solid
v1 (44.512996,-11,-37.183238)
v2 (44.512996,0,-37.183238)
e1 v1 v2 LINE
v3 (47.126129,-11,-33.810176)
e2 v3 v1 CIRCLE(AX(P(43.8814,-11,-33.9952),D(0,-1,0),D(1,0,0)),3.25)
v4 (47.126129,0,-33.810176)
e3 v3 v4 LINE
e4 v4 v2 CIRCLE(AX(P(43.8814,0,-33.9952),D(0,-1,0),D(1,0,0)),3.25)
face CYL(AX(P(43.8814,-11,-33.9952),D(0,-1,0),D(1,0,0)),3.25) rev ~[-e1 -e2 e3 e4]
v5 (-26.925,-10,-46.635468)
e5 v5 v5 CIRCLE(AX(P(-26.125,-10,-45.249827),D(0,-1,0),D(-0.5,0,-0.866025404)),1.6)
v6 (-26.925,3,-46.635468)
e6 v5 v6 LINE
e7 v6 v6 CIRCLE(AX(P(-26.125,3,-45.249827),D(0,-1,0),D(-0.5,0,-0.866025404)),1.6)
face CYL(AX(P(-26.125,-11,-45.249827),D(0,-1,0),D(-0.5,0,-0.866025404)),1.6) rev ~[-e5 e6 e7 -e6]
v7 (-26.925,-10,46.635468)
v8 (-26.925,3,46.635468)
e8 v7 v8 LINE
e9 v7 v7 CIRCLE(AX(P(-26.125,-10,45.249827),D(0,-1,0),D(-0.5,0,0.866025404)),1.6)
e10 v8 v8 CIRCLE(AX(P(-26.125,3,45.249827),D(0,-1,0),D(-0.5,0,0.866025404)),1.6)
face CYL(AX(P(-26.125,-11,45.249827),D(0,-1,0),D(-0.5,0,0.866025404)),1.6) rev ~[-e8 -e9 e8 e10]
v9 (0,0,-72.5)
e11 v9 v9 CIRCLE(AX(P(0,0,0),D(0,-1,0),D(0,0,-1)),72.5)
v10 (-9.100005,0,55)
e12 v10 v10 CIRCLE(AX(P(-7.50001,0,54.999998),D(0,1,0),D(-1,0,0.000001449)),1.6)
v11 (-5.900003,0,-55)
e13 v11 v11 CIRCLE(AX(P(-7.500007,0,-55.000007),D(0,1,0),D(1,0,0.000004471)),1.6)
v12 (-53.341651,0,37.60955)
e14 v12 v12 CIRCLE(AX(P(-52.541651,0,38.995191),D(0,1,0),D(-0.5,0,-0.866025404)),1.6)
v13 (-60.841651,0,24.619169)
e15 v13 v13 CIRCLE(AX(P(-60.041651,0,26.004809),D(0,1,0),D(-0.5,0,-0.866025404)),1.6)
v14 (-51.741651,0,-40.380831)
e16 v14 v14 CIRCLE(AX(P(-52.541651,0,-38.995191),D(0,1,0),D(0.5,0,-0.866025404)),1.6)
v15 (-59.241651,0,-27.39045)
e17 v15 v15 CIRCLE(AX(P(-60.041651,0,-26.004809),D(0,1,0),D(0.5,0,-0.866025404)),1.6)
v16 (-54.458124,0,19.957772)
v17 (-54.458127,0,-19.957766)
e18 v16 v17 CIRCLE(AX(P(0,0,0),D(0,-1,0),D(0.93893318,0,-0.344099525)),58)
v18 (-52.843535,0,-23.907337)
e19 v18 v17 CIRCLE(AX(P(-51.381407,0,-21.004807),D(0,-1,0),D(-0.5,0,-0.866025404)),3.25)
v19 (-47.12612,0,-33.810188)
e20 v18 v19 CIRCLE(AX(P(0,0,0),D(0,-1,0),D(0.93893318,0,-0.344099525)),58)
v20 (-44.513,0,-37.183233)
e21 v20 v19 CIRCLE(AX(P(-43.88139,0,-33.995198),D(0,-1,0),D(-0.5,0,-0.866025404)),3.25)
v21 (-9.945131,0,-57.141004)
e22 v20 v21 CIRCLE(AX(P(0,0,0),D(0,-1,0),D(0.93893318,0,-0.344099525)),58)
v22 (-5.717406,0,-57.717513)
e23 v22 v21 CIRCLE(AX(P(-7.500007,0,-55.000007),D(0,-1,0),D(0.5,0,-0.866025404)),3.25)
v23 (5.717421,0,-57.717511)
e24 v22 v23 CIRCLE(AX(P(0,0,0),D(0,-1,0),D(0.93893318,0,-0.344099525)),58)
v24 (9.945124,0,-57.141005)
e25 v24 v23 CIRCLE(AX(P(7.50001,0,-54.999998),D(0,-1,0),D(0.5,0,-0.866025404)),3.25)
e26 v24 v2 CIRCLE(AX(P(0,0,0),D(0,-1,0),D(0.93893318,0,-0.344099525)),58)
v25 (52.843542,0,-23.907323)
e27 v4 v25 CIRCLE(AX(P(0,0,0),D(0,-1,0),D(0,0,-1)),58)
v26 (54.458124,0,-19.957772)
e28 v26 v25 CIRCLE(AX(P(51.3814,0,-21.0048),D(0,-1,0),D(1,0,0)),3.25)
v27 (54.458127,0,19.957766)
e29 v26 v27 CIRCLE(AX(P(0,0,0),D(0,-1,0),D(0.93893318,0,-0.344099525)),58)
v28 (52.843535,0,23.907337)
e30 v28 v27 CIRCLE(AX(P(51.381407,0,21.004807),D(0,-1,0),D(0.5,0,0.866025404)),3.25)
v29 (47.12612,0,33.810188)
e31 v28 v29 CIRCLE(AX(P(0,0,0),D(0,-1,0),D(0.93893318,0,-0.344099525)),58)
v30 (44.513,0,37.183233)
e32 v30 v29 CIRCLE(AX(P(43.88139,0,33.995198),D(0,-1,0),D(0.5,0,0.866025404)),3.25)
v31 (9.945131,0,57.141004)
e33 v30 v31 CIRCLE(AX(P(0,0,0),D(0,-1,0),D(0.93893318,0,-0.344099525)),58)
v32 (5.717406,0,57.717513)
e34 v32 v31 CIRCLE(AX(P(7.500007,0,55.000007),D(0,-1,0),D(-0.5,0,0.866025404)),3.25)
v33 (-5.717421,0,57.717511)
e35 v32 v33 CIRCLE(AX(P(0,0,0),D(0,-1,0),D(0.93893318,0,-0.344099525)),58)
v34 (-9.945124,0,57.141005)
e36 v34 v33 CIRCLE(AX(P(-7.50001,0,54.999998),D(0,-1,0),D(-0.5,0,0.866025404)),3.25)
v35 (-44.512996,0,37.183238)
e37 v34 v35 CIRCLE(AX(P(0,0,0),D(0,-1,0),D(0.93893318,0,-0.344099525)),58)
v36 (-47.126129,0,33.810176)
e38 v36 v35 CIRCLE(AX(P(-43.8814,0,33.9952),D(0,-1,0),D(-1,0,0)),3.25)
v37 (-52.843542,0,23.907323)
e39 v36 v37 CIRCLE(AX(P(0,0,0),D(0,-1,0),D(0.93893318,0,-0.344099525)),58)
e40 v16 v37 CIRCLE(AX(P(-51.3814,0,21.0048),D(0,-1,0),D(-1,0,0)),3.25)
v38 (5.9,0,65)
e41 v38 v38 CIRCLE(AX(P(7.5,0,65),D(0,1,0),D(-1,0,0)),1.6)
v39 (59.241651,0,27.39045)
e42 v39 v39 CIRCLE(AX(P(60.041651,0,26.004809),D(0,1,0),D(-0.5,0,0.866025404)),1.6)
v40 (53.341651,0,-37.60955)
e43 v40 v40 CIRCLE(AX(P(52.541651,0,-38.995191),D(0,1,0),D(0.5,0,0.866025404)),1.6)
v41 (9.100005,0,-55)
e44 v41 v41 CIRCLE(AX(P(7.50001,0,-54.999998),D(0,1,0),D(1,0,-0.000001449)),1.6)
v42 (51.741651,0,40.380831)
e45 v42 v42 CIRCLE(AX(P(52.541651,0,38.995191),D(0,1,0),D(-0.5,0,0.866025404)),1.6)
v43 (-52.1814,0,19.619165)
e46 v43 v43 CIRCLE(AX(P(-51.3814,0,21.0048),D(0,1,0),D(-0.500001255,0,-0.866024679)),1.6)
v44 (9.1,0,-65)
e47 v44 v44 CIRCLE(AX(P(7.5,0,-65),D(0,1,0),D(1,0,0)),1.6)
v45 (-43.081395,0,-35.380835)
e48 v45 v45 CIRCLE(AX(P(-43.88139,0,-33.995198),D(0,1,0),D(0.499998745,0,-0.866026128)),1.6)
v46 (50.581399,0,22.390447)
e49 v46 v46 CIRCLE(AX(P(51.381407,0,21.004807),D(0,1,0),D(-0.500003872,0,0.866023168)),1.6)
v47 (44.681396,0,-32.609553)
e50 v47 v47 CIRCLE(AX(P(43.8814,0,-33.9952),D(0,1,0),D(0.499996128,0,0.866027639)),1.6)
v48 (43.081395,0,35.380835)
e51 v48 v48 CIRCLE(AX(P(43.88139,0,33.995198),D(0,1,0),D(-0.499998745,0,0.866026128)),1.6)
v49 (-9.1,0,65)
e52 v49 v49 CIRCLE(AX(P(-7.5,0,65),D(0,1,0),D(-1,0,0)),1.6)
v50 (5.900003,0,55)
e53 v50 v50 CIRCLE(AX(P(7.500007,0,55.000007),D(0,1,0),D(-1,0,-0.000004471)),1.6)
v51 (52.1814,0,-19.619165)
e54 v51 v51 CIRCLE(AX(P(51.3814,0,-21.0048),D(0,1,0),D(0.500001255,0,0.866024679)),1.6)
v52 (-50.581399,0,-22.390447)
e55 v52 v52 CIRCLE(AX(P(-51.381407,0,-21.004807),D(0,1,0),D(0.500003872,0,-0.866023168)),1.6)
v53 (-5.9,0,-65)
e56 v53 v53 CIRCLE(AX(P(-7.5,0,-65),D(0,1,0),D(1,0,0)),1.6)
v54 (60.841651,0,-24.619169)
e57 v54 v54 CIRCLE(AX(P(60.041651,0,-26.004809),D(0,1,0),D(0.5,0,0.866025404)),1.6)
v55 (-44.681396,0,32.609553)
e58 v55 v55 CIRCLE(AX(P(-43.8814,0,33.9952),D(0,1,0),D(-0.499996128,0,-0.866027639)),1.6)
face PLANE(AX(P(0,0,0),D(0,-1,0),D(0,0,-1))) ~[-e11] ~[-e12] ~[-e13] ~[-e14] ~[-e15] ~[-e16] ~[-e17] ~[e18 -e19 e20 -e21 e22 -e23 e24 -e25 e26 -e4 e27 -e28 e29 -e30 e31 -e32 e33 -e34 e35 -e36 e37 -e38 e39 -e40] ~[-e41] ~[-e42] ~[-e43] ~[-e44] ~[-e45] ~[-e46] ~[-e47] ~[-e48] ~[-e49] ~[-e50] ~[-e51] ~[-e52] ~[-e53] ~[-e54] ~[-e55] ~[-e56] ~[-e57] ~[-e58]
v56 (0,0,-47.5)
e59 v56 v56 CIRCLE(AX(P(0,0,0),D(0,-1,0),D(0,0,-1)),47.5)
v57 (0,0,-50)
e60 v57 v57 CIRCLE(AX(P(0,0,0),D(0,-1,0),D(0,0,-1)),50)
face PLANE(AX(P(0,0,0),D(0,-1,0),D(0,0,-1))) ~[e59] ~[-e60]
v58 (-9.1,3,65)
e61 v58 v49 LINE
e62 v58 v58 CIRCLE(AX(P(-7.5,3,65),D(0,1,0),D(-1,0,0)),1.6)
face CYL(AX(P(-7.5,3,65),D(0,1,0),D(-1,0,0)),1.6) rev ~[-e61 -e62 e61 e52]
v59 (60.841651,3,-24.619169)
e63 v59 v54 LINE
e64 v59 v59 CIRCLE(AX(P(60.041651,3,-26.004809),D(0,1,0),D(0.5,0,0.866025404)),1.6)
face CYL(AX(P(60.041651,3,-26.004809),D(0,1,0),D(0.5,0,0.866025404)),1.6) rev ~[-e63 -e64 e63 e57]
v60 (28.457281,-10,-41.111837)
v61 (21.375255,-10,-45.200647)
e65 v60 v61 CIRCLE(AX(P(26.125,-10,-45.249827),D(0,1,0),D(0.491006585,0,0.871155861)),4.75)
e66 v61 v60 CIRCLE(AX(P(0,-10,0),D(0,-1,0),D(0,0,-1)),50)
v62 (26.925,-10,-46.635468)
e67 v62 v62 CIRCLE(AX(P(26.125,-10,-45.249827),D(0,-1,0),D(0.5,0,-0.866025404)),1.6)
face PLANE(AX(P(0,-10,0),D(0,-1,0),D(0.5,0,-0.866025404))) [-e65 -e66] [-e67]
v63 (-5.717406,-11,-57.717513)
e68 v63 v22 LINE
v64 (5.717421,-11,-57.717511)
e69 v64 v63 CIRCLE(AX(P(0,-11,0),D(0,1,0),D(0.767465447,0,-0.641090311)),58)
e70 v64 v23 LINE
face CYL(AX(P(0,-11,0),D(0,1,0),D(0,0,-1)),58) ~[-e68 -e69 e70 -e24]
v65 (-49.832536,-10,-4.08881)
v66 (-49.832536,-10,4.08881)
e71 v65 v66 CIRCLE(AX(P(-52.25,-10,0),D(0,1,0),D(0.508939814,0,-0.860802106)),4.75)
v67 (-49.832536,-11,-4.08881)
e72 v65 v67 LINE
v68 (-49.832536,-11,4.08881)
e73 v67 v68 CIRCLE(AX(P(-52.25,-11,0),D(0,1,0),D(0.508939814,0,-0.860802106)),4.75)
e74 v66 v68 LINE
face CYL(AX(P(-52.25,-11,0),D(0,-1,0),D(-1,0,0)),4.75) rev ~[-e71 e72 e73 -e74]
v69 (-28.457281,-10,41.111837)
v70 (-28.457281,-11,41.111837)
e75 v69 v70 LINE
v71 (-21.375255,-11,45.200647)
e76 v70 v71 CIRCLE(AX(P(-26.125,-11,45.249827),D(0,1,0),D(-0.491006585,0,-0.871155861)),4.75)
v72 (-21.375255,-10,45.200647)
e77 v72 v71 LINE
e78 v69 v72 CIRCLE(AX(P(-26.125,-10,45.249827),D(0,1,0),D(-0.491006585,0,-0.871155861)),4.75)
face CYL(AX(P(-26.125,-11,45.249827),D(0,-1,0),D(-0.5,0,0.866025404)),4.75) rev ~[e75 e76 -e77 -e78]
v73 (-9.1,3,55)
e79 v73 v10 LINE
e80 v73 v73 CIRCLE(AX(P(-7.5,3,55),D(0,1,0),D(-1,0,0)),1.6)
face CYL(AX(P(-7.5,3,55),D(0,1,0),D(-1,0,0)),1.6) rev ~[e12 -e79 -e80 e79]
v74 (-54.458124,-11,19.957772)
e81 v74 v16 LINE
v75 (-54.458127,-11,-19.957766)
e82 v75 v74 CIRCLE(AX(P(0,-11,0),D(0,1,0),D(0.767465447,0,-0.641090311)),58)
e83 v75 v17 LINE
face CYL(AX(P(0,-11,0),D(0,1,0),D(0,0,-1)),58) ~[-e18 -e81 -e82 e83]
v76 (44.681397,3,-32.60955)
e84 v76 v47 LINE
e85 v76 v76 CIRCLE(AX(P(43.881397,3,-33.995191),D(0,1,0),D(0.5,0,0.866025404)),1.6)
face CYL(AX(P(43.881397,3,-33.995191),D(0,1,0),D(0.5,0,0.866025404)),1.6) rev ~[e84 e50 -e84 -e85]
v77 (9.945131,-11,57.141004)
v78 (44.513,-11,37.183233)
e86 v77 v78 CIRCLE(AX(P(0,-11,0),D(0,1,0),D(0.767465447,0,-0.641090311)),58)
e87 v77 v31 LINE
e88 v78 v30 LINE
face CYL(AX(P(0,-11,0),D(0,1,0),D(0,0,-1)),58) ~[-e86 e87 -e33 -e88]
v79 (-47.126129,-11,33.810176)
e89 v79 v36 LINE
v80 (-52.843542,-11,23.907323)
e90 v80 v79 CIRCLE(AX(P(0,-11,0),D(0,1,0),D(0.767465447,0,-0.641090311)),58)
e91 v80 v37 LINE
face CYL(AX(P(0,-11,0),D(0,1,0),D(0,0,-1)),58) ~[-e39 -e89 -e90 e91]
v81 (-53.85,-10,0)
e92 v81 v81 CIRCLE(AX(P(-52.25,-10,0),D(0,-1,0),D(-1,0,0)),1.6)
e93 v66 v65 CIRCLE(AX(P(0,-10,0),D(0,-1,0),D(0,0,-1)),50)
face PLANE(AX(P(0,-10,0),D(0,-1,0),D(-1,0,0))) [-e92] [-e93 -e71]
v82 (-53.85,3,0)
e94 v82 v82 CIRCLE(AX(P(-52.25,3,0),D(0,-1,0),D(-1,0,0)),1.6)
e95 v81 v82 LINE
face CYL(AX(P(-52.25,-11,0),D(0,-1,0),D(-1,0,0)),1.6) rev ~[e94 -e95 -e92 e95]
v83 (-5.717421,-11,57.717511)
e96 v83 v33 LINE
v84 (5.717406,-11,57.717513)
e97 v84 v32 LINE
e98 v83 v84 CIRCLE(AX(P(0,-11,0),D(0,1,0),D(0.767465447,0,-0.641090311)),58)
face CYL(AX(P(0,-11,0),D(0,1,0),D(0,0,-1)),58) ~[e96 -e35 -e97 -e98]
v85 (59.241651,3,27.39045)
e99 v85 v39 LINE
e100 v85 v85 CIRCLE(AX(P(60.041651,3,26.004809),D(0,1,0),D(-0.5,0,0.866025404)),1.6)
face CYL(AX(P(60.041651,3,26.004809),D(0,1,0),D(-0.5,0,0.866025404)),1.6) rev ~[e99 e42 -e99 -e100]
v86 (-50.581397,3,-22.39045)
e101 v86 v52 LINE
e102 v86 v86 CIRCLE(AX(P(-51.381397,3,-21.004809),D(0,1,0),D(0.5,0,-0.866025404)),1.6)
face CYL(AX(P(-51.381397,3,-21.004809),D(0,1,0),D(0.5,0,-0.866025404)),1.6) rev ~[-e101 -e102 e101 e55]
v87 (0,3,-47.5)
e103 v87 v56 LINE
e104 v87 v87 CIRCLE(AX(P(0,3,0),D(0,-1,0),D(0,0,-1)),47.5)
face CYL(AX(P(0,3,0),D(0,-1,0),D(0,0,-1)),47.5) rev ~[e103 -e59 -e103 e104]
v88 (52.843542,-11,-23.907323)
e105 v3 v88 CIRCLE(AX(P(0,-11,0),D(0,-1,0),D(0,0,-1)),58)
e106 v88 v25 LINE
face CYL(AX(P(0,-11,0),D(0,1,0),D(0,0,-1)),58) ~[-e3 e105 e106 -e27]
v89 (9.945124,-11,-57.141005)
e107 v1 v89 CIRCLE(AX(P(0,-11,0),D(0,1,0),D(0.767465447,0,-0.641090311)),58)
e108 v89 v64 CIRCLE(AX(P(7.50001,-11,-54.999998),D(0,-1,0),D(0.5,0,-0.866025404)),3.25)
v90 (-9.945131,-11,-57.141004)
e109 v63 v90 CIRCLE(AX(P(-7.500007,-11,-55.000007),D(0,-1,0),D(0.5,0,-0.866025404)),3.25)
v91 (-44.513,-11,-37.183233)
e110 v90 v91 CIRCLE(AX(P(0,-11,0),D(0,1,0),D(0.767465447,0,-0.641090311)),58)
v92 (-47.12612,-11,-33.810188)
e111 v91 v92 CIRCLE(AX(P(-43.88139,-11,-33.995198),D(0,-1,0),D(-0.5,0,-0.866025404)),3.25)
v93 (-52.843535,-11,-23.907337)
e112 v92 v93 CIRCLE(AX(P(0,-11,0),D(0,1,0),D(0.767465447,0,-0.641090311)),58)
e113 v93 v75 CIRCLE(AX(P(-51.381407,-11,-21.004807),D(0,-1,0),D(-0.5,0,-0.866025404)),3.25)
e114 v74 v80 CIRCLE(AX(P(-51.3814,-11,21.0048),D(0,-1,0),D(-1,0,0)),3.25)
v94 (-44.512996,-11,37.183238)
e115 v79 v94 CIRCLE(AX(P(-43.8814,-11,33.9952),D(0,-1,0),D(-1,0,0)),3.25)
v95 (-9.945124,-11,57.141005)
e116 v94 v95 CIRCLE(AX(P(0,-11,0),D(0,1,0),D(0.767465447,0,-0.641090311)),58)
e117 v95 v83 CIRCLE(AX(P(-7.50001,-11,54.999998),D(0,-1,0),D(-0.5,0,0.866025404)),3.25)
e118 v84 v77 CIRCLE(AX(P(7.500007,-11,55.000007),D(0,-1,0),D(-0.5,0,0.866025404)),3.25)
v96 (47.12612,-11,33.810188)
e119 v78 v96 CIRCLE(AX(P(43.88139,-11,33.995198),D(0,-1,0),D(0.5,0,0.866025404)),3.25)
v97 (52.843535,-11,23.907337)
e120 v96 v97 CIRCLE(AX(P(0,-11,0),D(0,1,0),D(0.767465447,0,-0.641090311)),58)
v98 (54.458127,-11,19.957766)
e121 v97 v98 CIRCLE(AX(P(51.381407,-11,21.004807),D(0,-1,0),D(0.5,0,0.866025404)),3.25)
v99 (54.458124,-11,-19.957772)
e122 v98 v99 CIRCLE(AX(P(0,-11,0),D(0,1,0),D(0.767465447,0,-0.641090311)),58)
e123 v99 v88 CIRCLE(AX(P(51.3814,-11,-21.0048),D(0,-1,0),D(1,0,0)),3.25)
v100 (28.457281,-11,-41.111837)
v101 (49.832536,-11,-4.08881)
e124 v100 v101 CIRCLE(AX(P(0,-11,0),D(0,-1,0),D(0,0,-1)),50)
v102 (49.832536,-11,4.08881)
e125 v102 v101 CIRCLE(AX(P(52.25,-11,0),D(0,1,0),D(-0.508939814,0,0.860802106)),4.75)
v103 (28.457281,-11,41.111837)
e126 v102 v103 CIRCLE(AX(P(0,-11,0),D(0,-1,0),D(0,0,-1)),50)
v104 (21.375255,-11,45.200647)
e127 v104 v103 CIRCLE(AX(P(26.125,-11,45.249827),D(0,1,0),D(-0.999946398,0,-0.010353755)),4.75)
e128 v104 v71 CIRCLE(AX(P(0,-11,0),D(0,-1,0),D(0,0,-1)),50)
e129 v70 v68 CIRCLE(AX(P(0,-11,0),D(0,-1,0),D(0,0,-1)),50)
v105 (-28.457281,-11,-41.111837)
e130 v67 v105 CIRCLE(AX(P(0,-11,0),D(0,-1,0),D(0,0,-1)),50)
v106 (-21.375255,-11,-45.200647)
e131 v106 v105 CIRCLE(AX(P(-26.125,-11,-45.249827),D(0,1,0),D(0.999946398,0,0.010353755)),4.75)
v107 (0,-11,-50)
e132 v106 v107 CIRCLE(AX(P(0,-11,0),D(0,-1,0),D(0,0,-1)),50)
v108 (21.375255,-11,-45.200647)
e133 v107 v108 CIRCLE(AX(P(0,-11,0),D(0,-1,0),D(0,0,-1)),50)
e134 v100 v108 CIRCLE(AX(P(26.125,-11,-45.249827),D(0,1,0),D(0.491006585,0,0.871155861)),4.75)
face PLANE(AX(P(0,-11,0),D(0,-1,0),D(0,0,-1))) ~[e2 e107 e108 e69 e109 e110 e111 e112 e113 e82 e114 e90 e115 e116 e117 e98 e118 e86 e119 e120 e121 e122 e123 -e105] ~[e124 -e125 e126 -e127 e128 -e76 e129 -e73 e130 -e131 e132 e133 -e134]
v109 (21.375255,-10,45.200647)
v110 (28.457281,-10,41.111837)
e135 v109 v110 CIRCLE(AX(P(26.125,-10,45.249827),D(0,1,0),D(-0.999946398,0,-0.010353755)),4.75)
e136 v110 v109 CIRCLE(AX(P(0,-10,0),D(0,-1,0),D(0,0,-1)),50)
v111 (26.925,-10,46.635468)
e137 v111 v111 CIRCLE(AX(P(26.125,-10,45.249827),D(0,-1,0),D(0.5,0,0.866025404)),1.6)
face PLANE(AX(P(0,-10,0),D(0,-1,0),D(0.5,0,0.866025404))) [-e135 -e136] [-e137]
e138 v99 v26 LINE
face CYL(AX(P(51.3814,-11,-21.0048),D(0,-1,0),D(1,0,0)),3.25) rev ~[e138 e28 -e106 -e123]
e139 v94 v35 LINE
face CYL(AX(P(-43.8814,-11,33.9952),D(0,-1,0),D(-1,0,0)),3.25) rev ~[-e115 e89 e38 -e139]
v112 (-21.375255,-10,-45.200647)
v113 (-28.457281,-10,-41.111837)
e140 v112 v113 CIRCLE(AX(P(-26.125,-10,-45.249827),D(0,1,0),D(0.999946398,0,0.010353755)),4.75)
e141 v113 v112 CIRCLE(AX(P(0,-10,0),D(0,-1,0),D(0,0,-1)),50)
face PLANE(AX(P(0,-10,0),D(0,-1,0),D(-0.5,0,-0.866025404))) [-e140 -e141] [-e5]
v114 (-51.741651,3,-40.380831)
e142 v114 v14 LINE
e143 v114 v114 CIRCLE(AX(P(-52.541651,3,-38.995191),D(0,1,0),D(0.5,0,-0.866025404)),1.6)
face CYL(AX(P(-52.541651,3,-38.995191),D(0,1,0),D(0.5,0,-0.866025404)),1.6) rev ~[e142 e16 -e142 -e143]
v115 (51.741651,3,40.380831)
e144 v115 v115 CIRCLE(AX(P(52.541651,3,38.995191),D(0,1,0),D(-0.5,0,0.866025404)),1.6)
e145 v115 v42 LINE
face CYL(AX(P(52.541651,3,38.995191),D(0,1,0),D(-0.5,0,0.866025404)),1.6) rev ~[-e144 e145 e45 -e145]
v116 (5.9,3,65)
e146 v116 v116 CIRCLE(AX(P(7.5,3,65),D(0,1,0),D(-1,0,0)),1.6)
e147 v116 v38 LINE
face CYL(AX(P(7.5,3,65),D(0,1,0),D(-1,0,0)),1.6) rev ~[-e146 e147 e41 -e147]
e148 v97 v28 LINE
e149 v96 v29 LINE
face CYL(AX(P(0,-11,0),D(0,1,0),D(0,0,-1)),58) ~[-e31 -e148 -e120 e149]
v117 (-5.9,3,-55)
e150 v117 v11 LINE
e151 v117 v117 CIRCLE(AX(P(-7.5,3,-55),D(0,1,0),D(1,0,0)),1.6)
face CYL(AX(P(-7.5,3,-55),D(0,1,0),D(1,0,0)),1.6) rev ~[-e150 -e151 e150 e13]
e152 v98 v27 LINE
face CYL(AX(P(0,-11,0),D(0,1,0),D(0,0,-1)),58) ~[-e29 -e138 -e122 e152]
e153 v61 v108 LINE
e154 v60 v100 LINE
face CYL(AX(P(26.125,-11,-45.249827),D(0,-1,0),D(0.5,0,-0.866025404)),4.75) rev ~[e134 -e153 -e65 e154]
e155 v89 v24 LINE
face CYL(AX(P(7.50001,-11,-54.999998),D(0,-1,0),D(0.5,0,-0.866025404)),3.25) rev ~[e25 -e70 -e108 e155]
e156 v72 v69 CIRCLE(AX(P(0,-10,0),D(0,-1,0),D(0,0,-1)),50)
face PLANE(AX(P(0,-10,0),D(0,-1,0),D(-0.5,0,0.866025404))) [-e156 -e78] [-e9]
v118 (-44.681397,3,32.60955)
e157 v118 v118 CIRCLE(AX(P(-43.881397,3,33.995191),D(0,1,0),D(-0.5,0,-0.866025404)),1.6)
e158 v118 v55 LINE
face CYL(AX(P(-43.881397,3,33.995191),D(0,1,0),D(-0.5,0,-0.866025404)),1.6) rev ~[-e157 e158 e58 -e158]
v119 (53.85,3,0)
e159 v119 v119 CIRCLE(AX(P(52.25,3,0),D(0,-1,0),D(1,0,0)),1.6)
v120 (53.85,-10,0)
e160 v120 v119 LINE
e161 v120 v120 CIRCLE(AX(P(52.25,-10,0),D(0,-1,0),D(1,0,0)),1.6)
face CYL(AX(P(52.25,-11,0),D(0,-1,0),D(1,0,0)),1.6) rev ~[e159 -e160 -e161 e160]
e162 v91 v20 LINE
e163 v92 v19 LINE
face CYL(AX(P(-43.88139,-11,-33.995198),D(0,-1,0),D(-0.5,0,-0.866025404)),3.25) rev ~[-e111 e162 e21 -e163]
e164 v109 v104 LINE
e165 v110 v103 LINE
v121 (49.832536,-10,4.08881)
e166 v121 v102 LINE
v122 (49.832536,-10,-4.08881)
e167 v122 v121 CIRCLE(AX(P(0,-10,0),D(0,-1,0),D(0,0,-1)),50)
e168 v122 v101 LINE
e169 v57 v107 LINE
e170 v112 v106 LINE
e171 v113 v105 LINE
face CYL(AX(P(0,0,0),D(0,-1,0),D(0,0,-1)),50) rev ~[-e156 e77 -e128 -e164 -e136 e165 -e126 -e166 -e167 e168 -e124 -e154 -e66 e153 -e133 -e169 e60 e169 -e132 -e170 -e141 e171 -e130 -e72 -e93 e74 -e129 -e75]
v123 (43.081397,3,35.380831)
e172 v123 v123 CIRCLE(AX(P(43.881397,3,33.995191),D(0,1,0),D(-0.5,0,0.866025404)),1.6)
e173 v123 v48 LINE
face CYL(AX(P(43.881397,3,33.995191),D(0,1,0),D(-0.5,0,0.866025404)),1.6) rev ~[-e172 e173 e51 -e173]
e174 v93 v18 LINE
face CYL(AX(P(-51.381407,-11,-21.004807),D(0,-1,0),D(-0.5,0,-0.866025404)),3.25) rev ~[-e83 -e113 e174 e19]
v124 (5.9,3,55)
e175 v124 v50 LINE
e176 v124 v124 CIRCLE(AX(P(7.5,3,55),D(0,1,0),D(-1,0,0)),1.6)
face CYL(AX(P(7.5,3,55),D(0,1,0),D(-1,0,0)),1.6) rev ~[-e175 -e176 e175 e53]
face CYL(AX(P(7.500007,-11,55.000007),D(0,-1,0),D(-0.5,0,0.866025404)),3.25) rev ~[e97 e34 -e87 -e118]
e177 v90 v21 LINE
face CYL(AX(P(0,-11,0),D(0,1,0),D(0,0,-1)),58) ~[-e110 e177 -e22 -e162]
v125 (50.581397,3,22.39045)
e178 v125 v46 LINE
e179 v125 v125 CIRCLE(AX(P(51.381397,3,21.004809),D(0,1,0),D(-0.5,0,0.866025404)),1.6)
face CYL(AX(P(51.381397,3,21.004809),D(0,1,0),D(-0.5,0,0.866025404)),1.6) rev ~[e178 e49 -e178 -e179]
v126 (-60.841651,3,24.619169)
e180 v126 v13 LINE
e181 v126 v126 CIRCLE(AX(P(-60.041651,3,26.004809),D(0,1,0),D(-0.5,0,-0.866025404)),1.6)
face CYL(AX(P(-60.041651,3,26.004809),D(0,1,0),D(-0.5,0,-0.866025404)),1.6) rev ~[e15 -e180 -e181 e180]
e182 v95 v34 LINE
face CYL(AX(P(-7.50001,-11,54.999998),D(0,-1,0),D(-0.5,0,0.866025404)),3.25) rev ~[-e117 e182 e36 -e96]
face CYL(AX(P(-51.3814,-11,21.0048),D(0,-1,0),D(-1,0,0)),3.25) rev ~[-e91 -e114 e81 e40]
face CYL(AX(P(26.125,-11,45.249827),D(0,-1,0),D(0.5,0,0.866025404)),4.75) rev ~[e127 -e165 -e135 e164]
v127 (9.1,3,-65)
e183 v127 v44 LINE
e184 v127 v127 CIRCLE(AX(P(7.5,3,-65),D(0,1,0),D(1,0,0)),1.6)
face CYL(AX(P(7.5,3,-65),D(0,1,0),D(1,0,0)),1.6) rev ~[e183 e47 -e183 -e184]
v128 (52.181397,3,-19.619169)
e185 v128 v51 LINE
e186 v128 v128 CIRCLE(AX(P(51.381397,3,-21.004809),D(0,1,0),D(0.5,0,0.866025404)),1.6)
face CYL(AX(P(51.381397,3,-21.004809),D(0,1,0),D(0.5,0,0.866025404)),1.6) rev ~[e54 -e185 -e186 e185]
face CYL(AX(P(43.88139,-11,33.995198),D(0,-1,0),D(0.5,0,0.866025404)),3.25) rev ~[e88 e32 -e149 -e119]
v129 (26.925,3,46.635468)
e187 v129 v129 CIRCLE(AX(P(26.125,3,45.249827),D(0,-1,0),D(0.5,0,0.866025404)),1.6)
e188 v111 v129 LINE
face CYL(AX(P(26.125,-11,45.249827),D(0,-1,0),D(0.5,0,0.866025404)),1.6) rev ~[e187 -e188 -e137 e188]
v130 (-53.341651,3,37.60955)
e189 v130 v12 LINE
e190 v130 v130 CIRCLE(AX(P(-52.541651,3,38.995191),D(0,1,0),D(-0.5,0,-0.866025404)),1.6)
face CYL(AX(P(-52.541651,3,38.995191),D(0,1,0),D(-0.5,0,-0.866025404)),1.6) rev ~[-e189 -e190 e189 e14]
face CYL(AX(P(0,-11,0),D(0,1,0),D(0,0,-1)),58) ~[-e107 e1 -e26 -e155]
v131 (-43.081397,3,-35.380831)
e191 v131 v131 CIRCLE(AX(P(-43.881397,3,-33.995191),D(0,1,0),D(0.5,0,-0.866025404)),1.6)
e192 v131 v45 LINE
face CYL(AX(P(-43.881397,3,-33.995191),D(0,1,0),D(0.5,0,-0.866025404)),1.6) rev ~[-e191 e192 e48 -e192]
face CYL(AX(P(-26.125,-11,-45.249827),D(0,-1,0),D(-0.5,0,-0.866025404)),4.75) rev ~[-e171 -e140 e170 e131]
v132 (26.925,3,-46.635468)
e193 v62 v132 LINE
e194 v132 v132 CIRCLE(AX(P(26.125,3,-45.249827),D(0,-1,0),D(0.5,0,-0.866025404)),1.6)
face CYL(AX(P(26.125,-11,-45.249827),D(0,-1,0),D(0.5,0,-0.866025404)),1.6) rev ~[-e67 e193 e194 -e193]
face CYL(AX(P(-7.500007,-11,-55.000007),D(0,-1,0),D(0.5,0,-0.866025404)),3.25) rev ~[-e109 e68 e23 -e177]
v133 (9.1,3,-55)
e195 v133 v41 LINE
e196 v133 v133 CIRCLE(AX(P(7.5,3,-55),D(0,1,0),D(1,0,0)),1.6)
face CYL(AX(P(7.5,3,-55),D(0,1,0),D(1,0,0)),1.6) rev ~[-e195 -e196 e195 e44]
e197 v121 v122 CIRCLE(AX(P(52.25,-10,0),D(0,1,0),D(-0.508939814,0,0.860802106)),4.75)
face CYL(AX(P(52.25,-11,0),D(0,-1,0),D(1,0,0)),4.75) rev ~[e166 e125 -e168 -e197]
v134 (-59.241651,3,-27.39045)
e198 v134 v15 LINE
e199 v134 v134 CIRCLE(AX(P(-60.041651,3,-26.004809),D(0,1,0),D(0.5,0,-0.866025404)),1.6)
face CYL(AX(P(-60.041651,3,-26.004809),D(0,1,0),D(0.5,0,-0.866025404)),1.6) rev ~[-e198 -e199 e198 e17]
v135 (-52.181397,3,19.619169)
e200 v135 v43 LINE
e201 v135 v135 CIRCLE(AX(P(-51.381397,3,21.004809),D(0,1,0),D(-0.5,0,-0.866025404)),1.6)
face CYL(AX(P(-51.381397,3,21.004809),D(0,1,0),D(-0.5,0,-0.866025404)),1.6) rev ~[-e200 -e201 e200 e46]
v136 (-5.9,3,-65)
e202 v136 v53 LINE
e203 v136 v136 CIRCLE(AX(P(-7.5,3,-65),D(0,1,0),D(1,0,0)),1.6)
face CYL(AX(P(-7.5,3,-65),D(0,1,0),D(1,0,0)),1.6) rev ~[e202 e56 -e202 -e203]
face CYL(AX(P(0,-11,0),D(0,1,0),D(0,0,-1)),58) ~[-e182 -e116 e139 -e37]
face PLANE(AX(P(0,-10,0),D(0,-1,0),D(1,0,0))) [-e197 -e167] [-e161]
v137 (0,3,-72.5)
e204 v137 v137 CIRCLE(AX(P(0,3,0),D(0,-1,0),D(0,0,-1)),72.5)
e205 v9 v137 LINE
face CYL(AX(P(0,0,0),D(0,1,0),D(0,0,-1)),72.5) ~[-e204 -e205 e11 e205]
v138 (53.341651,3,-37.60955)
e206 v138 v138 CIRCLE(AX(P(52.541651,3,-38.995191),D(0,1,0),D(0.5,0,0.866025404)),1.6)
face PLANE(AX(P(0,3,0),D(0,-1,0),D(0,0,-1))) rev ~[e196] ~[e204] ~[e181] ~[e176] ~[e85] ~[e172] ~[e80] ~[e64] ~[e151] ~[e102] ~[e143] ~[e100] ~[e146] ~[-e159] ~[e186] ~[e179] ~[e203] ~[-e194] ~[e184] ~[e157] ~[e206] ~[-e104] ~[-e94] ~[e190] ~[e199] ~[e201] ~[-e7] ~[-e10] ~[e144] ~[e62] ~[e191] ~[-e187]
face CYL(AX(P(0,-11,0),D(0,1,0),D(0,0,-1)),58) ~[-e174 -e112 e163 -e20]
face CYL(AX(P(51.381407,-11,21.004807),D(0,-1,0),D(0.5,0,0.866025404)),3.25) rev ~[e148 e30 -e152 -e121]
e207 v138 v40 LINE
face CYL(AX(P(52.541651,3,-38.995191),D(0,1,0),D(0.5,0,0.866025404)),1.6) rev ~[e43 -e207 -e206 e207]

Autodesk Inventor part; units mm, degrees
ref_plane "YZ Plane" through (0, 0, 0) normal (1, 0, 0) x (0, 1, 0)
ref_plane "XZ Plane" through (0, 0, 0) normal (0, 1, 0) x (-1, 0, 0)
ref_plane "XY Plane" through (0, 0, 0) normal (0, 0, 1) x (1, 0, 0)
sketch "Sketch2" plane through (0, 0, 0) normal (1, 0, 0) x (0, 1, 0)
  line L0 (18.4798, 0) -> (-23.1628, 0)
  line L1 (0, 0) -> (-11, 0) construction
  line L2 (-11, 0) -> (-11, -50) construction
  line L3 (-11, -50) -> (0, -50) construction
  line L4 (0, -50) -> (0, 0) construction
  line L5 (0.7575, -40) -> (-11, -40) construction
  line L6 (35.6298, -95) -> (-28.9625, -95) construction
  line L7 (0, -50) -> (-11, -50)
  line L8 (-11, -50) -> (-11, -58)
  line L9 (-11, -58) -> (0, -58)
  line L10 (0, -58) -> (0, -50)
  line L11 (3, -47.5) -> (0, -47.5)
  line L12 (0, -47.5) -> (0, -72.5)
  line L13 (0, -72.5) -> (3, -72.5)
  line L14 (3, -72.5) -> (3, -47.5)
  dimension "d9" = 100
  dimension "d10" = 11
  dimension "d11" = 10
  dimension "d12" = 190
  dimension "d13" = 8
  dimension "d14" = 2.5
  dimension "d15" = 3
  dimension "d16" = 25
revolve "Revolution3" add sketch "Sketch2" angle 360 about axis through (0, 18.4798, 0) along (0, -1, 0)
sketch "Sketch3" plane through (0, -11, 0) normal (0, -1, 0) x (1, 0, 0)
  circle A0 centre (0, 0) radius 50 projected
  line L0 (0, 0) -> (103.1518, 0)
  circle A1 centre (52.25, 0) radius 4.75
  circle A2 centre (52.25, 0) radius 1.6
  arc A3 (46.338, -10.4421) -> (45.9796, 11.9216) centre (0, 0) ccw construction
  dimension "d19" = 9.5
  dimension "d20" = 3.2
  dimension "d25" = 2.5
extrude "Extrusion1" cut sketch "Sketch3" against normal through all contours A2 L0 | L0 A2
extrude "Extrusion2" cut sketch "Sketch3" against normal blind 1 contours L0 A1 A0 | L0 A2 A1 A0 | A0 A1 L0 | A0 A1 L0 A2
pattern_circular "Circular Pattern1" count 6 over 360 about axis through (0, 1.5, 0) along (0, -1, 0) of "Extrusion1", "Extrusion2"
sketch "Sketch4" plane through (0, 3, 0) normal (0, 1, 0) x (1, 0, 0)
  point P0 (0, 0)
sketch "Sketch5" plane through (0, 3, 0) normal (0, 1, 0) x (1, 0, 0)
  circle A0 centre (0, 0) radius 47.5 projected
  line L0 (0, 0) -> (0, 79.7699)
  circle A1 centre (-7.5, 55) radius 1.6
  line L1 (0, 0) -> (104.7189, 0)
  circle A2 centre (-7.5, 65) radius 1.6
  circle A3 centre (7.5, 55) radius 1.6
  circle A4 centre (7.5, 65) radius 1.6
  dimension "d29" = 3.2
  dimension "t" = 7.5
  dimension "d31" = 55
  dimension "d34" = 10
  dimension "d37" = 15
extrude "Extrusion3" cut sketch "Sketch5" against normal through all contours A1 | A2 | A3 | A4
pattern_circular "Circular Pattern2" count 6 over 360 about axis through (0, 1.5, 0) along (0, -1, 0) of "Extrusion3"
sketch "Sketch6" plane through (0, -11, 0) normal (0, -1, 0) x (1, 0, 0)
  circle A0 centre (43.8814, -33.9952) radius 1.6 projected
  circle A1 centre (51.3814, -21.0048) radius 1.6 projected
  circle A2 centre (43.8814, -33.9952) radius 3.25
  circle A3 centre (51.3814, -21.0048) radius 3.25
  point P0 (0, 0)
  dimension "d45" = 6.5
  dimension "d46" = 6.5
extrude "Extrusion4" cut sketch "Sketch6" against normal up to surface (11 mm away)
pattern_circular "Circular Pattern3" count 6 over 360 about axis through (0, -5.5, 0) along (0, -1, 0) of "Extrusion4"
equation "\"d37\" = 2 * t"
properties part number "rotor-case"
